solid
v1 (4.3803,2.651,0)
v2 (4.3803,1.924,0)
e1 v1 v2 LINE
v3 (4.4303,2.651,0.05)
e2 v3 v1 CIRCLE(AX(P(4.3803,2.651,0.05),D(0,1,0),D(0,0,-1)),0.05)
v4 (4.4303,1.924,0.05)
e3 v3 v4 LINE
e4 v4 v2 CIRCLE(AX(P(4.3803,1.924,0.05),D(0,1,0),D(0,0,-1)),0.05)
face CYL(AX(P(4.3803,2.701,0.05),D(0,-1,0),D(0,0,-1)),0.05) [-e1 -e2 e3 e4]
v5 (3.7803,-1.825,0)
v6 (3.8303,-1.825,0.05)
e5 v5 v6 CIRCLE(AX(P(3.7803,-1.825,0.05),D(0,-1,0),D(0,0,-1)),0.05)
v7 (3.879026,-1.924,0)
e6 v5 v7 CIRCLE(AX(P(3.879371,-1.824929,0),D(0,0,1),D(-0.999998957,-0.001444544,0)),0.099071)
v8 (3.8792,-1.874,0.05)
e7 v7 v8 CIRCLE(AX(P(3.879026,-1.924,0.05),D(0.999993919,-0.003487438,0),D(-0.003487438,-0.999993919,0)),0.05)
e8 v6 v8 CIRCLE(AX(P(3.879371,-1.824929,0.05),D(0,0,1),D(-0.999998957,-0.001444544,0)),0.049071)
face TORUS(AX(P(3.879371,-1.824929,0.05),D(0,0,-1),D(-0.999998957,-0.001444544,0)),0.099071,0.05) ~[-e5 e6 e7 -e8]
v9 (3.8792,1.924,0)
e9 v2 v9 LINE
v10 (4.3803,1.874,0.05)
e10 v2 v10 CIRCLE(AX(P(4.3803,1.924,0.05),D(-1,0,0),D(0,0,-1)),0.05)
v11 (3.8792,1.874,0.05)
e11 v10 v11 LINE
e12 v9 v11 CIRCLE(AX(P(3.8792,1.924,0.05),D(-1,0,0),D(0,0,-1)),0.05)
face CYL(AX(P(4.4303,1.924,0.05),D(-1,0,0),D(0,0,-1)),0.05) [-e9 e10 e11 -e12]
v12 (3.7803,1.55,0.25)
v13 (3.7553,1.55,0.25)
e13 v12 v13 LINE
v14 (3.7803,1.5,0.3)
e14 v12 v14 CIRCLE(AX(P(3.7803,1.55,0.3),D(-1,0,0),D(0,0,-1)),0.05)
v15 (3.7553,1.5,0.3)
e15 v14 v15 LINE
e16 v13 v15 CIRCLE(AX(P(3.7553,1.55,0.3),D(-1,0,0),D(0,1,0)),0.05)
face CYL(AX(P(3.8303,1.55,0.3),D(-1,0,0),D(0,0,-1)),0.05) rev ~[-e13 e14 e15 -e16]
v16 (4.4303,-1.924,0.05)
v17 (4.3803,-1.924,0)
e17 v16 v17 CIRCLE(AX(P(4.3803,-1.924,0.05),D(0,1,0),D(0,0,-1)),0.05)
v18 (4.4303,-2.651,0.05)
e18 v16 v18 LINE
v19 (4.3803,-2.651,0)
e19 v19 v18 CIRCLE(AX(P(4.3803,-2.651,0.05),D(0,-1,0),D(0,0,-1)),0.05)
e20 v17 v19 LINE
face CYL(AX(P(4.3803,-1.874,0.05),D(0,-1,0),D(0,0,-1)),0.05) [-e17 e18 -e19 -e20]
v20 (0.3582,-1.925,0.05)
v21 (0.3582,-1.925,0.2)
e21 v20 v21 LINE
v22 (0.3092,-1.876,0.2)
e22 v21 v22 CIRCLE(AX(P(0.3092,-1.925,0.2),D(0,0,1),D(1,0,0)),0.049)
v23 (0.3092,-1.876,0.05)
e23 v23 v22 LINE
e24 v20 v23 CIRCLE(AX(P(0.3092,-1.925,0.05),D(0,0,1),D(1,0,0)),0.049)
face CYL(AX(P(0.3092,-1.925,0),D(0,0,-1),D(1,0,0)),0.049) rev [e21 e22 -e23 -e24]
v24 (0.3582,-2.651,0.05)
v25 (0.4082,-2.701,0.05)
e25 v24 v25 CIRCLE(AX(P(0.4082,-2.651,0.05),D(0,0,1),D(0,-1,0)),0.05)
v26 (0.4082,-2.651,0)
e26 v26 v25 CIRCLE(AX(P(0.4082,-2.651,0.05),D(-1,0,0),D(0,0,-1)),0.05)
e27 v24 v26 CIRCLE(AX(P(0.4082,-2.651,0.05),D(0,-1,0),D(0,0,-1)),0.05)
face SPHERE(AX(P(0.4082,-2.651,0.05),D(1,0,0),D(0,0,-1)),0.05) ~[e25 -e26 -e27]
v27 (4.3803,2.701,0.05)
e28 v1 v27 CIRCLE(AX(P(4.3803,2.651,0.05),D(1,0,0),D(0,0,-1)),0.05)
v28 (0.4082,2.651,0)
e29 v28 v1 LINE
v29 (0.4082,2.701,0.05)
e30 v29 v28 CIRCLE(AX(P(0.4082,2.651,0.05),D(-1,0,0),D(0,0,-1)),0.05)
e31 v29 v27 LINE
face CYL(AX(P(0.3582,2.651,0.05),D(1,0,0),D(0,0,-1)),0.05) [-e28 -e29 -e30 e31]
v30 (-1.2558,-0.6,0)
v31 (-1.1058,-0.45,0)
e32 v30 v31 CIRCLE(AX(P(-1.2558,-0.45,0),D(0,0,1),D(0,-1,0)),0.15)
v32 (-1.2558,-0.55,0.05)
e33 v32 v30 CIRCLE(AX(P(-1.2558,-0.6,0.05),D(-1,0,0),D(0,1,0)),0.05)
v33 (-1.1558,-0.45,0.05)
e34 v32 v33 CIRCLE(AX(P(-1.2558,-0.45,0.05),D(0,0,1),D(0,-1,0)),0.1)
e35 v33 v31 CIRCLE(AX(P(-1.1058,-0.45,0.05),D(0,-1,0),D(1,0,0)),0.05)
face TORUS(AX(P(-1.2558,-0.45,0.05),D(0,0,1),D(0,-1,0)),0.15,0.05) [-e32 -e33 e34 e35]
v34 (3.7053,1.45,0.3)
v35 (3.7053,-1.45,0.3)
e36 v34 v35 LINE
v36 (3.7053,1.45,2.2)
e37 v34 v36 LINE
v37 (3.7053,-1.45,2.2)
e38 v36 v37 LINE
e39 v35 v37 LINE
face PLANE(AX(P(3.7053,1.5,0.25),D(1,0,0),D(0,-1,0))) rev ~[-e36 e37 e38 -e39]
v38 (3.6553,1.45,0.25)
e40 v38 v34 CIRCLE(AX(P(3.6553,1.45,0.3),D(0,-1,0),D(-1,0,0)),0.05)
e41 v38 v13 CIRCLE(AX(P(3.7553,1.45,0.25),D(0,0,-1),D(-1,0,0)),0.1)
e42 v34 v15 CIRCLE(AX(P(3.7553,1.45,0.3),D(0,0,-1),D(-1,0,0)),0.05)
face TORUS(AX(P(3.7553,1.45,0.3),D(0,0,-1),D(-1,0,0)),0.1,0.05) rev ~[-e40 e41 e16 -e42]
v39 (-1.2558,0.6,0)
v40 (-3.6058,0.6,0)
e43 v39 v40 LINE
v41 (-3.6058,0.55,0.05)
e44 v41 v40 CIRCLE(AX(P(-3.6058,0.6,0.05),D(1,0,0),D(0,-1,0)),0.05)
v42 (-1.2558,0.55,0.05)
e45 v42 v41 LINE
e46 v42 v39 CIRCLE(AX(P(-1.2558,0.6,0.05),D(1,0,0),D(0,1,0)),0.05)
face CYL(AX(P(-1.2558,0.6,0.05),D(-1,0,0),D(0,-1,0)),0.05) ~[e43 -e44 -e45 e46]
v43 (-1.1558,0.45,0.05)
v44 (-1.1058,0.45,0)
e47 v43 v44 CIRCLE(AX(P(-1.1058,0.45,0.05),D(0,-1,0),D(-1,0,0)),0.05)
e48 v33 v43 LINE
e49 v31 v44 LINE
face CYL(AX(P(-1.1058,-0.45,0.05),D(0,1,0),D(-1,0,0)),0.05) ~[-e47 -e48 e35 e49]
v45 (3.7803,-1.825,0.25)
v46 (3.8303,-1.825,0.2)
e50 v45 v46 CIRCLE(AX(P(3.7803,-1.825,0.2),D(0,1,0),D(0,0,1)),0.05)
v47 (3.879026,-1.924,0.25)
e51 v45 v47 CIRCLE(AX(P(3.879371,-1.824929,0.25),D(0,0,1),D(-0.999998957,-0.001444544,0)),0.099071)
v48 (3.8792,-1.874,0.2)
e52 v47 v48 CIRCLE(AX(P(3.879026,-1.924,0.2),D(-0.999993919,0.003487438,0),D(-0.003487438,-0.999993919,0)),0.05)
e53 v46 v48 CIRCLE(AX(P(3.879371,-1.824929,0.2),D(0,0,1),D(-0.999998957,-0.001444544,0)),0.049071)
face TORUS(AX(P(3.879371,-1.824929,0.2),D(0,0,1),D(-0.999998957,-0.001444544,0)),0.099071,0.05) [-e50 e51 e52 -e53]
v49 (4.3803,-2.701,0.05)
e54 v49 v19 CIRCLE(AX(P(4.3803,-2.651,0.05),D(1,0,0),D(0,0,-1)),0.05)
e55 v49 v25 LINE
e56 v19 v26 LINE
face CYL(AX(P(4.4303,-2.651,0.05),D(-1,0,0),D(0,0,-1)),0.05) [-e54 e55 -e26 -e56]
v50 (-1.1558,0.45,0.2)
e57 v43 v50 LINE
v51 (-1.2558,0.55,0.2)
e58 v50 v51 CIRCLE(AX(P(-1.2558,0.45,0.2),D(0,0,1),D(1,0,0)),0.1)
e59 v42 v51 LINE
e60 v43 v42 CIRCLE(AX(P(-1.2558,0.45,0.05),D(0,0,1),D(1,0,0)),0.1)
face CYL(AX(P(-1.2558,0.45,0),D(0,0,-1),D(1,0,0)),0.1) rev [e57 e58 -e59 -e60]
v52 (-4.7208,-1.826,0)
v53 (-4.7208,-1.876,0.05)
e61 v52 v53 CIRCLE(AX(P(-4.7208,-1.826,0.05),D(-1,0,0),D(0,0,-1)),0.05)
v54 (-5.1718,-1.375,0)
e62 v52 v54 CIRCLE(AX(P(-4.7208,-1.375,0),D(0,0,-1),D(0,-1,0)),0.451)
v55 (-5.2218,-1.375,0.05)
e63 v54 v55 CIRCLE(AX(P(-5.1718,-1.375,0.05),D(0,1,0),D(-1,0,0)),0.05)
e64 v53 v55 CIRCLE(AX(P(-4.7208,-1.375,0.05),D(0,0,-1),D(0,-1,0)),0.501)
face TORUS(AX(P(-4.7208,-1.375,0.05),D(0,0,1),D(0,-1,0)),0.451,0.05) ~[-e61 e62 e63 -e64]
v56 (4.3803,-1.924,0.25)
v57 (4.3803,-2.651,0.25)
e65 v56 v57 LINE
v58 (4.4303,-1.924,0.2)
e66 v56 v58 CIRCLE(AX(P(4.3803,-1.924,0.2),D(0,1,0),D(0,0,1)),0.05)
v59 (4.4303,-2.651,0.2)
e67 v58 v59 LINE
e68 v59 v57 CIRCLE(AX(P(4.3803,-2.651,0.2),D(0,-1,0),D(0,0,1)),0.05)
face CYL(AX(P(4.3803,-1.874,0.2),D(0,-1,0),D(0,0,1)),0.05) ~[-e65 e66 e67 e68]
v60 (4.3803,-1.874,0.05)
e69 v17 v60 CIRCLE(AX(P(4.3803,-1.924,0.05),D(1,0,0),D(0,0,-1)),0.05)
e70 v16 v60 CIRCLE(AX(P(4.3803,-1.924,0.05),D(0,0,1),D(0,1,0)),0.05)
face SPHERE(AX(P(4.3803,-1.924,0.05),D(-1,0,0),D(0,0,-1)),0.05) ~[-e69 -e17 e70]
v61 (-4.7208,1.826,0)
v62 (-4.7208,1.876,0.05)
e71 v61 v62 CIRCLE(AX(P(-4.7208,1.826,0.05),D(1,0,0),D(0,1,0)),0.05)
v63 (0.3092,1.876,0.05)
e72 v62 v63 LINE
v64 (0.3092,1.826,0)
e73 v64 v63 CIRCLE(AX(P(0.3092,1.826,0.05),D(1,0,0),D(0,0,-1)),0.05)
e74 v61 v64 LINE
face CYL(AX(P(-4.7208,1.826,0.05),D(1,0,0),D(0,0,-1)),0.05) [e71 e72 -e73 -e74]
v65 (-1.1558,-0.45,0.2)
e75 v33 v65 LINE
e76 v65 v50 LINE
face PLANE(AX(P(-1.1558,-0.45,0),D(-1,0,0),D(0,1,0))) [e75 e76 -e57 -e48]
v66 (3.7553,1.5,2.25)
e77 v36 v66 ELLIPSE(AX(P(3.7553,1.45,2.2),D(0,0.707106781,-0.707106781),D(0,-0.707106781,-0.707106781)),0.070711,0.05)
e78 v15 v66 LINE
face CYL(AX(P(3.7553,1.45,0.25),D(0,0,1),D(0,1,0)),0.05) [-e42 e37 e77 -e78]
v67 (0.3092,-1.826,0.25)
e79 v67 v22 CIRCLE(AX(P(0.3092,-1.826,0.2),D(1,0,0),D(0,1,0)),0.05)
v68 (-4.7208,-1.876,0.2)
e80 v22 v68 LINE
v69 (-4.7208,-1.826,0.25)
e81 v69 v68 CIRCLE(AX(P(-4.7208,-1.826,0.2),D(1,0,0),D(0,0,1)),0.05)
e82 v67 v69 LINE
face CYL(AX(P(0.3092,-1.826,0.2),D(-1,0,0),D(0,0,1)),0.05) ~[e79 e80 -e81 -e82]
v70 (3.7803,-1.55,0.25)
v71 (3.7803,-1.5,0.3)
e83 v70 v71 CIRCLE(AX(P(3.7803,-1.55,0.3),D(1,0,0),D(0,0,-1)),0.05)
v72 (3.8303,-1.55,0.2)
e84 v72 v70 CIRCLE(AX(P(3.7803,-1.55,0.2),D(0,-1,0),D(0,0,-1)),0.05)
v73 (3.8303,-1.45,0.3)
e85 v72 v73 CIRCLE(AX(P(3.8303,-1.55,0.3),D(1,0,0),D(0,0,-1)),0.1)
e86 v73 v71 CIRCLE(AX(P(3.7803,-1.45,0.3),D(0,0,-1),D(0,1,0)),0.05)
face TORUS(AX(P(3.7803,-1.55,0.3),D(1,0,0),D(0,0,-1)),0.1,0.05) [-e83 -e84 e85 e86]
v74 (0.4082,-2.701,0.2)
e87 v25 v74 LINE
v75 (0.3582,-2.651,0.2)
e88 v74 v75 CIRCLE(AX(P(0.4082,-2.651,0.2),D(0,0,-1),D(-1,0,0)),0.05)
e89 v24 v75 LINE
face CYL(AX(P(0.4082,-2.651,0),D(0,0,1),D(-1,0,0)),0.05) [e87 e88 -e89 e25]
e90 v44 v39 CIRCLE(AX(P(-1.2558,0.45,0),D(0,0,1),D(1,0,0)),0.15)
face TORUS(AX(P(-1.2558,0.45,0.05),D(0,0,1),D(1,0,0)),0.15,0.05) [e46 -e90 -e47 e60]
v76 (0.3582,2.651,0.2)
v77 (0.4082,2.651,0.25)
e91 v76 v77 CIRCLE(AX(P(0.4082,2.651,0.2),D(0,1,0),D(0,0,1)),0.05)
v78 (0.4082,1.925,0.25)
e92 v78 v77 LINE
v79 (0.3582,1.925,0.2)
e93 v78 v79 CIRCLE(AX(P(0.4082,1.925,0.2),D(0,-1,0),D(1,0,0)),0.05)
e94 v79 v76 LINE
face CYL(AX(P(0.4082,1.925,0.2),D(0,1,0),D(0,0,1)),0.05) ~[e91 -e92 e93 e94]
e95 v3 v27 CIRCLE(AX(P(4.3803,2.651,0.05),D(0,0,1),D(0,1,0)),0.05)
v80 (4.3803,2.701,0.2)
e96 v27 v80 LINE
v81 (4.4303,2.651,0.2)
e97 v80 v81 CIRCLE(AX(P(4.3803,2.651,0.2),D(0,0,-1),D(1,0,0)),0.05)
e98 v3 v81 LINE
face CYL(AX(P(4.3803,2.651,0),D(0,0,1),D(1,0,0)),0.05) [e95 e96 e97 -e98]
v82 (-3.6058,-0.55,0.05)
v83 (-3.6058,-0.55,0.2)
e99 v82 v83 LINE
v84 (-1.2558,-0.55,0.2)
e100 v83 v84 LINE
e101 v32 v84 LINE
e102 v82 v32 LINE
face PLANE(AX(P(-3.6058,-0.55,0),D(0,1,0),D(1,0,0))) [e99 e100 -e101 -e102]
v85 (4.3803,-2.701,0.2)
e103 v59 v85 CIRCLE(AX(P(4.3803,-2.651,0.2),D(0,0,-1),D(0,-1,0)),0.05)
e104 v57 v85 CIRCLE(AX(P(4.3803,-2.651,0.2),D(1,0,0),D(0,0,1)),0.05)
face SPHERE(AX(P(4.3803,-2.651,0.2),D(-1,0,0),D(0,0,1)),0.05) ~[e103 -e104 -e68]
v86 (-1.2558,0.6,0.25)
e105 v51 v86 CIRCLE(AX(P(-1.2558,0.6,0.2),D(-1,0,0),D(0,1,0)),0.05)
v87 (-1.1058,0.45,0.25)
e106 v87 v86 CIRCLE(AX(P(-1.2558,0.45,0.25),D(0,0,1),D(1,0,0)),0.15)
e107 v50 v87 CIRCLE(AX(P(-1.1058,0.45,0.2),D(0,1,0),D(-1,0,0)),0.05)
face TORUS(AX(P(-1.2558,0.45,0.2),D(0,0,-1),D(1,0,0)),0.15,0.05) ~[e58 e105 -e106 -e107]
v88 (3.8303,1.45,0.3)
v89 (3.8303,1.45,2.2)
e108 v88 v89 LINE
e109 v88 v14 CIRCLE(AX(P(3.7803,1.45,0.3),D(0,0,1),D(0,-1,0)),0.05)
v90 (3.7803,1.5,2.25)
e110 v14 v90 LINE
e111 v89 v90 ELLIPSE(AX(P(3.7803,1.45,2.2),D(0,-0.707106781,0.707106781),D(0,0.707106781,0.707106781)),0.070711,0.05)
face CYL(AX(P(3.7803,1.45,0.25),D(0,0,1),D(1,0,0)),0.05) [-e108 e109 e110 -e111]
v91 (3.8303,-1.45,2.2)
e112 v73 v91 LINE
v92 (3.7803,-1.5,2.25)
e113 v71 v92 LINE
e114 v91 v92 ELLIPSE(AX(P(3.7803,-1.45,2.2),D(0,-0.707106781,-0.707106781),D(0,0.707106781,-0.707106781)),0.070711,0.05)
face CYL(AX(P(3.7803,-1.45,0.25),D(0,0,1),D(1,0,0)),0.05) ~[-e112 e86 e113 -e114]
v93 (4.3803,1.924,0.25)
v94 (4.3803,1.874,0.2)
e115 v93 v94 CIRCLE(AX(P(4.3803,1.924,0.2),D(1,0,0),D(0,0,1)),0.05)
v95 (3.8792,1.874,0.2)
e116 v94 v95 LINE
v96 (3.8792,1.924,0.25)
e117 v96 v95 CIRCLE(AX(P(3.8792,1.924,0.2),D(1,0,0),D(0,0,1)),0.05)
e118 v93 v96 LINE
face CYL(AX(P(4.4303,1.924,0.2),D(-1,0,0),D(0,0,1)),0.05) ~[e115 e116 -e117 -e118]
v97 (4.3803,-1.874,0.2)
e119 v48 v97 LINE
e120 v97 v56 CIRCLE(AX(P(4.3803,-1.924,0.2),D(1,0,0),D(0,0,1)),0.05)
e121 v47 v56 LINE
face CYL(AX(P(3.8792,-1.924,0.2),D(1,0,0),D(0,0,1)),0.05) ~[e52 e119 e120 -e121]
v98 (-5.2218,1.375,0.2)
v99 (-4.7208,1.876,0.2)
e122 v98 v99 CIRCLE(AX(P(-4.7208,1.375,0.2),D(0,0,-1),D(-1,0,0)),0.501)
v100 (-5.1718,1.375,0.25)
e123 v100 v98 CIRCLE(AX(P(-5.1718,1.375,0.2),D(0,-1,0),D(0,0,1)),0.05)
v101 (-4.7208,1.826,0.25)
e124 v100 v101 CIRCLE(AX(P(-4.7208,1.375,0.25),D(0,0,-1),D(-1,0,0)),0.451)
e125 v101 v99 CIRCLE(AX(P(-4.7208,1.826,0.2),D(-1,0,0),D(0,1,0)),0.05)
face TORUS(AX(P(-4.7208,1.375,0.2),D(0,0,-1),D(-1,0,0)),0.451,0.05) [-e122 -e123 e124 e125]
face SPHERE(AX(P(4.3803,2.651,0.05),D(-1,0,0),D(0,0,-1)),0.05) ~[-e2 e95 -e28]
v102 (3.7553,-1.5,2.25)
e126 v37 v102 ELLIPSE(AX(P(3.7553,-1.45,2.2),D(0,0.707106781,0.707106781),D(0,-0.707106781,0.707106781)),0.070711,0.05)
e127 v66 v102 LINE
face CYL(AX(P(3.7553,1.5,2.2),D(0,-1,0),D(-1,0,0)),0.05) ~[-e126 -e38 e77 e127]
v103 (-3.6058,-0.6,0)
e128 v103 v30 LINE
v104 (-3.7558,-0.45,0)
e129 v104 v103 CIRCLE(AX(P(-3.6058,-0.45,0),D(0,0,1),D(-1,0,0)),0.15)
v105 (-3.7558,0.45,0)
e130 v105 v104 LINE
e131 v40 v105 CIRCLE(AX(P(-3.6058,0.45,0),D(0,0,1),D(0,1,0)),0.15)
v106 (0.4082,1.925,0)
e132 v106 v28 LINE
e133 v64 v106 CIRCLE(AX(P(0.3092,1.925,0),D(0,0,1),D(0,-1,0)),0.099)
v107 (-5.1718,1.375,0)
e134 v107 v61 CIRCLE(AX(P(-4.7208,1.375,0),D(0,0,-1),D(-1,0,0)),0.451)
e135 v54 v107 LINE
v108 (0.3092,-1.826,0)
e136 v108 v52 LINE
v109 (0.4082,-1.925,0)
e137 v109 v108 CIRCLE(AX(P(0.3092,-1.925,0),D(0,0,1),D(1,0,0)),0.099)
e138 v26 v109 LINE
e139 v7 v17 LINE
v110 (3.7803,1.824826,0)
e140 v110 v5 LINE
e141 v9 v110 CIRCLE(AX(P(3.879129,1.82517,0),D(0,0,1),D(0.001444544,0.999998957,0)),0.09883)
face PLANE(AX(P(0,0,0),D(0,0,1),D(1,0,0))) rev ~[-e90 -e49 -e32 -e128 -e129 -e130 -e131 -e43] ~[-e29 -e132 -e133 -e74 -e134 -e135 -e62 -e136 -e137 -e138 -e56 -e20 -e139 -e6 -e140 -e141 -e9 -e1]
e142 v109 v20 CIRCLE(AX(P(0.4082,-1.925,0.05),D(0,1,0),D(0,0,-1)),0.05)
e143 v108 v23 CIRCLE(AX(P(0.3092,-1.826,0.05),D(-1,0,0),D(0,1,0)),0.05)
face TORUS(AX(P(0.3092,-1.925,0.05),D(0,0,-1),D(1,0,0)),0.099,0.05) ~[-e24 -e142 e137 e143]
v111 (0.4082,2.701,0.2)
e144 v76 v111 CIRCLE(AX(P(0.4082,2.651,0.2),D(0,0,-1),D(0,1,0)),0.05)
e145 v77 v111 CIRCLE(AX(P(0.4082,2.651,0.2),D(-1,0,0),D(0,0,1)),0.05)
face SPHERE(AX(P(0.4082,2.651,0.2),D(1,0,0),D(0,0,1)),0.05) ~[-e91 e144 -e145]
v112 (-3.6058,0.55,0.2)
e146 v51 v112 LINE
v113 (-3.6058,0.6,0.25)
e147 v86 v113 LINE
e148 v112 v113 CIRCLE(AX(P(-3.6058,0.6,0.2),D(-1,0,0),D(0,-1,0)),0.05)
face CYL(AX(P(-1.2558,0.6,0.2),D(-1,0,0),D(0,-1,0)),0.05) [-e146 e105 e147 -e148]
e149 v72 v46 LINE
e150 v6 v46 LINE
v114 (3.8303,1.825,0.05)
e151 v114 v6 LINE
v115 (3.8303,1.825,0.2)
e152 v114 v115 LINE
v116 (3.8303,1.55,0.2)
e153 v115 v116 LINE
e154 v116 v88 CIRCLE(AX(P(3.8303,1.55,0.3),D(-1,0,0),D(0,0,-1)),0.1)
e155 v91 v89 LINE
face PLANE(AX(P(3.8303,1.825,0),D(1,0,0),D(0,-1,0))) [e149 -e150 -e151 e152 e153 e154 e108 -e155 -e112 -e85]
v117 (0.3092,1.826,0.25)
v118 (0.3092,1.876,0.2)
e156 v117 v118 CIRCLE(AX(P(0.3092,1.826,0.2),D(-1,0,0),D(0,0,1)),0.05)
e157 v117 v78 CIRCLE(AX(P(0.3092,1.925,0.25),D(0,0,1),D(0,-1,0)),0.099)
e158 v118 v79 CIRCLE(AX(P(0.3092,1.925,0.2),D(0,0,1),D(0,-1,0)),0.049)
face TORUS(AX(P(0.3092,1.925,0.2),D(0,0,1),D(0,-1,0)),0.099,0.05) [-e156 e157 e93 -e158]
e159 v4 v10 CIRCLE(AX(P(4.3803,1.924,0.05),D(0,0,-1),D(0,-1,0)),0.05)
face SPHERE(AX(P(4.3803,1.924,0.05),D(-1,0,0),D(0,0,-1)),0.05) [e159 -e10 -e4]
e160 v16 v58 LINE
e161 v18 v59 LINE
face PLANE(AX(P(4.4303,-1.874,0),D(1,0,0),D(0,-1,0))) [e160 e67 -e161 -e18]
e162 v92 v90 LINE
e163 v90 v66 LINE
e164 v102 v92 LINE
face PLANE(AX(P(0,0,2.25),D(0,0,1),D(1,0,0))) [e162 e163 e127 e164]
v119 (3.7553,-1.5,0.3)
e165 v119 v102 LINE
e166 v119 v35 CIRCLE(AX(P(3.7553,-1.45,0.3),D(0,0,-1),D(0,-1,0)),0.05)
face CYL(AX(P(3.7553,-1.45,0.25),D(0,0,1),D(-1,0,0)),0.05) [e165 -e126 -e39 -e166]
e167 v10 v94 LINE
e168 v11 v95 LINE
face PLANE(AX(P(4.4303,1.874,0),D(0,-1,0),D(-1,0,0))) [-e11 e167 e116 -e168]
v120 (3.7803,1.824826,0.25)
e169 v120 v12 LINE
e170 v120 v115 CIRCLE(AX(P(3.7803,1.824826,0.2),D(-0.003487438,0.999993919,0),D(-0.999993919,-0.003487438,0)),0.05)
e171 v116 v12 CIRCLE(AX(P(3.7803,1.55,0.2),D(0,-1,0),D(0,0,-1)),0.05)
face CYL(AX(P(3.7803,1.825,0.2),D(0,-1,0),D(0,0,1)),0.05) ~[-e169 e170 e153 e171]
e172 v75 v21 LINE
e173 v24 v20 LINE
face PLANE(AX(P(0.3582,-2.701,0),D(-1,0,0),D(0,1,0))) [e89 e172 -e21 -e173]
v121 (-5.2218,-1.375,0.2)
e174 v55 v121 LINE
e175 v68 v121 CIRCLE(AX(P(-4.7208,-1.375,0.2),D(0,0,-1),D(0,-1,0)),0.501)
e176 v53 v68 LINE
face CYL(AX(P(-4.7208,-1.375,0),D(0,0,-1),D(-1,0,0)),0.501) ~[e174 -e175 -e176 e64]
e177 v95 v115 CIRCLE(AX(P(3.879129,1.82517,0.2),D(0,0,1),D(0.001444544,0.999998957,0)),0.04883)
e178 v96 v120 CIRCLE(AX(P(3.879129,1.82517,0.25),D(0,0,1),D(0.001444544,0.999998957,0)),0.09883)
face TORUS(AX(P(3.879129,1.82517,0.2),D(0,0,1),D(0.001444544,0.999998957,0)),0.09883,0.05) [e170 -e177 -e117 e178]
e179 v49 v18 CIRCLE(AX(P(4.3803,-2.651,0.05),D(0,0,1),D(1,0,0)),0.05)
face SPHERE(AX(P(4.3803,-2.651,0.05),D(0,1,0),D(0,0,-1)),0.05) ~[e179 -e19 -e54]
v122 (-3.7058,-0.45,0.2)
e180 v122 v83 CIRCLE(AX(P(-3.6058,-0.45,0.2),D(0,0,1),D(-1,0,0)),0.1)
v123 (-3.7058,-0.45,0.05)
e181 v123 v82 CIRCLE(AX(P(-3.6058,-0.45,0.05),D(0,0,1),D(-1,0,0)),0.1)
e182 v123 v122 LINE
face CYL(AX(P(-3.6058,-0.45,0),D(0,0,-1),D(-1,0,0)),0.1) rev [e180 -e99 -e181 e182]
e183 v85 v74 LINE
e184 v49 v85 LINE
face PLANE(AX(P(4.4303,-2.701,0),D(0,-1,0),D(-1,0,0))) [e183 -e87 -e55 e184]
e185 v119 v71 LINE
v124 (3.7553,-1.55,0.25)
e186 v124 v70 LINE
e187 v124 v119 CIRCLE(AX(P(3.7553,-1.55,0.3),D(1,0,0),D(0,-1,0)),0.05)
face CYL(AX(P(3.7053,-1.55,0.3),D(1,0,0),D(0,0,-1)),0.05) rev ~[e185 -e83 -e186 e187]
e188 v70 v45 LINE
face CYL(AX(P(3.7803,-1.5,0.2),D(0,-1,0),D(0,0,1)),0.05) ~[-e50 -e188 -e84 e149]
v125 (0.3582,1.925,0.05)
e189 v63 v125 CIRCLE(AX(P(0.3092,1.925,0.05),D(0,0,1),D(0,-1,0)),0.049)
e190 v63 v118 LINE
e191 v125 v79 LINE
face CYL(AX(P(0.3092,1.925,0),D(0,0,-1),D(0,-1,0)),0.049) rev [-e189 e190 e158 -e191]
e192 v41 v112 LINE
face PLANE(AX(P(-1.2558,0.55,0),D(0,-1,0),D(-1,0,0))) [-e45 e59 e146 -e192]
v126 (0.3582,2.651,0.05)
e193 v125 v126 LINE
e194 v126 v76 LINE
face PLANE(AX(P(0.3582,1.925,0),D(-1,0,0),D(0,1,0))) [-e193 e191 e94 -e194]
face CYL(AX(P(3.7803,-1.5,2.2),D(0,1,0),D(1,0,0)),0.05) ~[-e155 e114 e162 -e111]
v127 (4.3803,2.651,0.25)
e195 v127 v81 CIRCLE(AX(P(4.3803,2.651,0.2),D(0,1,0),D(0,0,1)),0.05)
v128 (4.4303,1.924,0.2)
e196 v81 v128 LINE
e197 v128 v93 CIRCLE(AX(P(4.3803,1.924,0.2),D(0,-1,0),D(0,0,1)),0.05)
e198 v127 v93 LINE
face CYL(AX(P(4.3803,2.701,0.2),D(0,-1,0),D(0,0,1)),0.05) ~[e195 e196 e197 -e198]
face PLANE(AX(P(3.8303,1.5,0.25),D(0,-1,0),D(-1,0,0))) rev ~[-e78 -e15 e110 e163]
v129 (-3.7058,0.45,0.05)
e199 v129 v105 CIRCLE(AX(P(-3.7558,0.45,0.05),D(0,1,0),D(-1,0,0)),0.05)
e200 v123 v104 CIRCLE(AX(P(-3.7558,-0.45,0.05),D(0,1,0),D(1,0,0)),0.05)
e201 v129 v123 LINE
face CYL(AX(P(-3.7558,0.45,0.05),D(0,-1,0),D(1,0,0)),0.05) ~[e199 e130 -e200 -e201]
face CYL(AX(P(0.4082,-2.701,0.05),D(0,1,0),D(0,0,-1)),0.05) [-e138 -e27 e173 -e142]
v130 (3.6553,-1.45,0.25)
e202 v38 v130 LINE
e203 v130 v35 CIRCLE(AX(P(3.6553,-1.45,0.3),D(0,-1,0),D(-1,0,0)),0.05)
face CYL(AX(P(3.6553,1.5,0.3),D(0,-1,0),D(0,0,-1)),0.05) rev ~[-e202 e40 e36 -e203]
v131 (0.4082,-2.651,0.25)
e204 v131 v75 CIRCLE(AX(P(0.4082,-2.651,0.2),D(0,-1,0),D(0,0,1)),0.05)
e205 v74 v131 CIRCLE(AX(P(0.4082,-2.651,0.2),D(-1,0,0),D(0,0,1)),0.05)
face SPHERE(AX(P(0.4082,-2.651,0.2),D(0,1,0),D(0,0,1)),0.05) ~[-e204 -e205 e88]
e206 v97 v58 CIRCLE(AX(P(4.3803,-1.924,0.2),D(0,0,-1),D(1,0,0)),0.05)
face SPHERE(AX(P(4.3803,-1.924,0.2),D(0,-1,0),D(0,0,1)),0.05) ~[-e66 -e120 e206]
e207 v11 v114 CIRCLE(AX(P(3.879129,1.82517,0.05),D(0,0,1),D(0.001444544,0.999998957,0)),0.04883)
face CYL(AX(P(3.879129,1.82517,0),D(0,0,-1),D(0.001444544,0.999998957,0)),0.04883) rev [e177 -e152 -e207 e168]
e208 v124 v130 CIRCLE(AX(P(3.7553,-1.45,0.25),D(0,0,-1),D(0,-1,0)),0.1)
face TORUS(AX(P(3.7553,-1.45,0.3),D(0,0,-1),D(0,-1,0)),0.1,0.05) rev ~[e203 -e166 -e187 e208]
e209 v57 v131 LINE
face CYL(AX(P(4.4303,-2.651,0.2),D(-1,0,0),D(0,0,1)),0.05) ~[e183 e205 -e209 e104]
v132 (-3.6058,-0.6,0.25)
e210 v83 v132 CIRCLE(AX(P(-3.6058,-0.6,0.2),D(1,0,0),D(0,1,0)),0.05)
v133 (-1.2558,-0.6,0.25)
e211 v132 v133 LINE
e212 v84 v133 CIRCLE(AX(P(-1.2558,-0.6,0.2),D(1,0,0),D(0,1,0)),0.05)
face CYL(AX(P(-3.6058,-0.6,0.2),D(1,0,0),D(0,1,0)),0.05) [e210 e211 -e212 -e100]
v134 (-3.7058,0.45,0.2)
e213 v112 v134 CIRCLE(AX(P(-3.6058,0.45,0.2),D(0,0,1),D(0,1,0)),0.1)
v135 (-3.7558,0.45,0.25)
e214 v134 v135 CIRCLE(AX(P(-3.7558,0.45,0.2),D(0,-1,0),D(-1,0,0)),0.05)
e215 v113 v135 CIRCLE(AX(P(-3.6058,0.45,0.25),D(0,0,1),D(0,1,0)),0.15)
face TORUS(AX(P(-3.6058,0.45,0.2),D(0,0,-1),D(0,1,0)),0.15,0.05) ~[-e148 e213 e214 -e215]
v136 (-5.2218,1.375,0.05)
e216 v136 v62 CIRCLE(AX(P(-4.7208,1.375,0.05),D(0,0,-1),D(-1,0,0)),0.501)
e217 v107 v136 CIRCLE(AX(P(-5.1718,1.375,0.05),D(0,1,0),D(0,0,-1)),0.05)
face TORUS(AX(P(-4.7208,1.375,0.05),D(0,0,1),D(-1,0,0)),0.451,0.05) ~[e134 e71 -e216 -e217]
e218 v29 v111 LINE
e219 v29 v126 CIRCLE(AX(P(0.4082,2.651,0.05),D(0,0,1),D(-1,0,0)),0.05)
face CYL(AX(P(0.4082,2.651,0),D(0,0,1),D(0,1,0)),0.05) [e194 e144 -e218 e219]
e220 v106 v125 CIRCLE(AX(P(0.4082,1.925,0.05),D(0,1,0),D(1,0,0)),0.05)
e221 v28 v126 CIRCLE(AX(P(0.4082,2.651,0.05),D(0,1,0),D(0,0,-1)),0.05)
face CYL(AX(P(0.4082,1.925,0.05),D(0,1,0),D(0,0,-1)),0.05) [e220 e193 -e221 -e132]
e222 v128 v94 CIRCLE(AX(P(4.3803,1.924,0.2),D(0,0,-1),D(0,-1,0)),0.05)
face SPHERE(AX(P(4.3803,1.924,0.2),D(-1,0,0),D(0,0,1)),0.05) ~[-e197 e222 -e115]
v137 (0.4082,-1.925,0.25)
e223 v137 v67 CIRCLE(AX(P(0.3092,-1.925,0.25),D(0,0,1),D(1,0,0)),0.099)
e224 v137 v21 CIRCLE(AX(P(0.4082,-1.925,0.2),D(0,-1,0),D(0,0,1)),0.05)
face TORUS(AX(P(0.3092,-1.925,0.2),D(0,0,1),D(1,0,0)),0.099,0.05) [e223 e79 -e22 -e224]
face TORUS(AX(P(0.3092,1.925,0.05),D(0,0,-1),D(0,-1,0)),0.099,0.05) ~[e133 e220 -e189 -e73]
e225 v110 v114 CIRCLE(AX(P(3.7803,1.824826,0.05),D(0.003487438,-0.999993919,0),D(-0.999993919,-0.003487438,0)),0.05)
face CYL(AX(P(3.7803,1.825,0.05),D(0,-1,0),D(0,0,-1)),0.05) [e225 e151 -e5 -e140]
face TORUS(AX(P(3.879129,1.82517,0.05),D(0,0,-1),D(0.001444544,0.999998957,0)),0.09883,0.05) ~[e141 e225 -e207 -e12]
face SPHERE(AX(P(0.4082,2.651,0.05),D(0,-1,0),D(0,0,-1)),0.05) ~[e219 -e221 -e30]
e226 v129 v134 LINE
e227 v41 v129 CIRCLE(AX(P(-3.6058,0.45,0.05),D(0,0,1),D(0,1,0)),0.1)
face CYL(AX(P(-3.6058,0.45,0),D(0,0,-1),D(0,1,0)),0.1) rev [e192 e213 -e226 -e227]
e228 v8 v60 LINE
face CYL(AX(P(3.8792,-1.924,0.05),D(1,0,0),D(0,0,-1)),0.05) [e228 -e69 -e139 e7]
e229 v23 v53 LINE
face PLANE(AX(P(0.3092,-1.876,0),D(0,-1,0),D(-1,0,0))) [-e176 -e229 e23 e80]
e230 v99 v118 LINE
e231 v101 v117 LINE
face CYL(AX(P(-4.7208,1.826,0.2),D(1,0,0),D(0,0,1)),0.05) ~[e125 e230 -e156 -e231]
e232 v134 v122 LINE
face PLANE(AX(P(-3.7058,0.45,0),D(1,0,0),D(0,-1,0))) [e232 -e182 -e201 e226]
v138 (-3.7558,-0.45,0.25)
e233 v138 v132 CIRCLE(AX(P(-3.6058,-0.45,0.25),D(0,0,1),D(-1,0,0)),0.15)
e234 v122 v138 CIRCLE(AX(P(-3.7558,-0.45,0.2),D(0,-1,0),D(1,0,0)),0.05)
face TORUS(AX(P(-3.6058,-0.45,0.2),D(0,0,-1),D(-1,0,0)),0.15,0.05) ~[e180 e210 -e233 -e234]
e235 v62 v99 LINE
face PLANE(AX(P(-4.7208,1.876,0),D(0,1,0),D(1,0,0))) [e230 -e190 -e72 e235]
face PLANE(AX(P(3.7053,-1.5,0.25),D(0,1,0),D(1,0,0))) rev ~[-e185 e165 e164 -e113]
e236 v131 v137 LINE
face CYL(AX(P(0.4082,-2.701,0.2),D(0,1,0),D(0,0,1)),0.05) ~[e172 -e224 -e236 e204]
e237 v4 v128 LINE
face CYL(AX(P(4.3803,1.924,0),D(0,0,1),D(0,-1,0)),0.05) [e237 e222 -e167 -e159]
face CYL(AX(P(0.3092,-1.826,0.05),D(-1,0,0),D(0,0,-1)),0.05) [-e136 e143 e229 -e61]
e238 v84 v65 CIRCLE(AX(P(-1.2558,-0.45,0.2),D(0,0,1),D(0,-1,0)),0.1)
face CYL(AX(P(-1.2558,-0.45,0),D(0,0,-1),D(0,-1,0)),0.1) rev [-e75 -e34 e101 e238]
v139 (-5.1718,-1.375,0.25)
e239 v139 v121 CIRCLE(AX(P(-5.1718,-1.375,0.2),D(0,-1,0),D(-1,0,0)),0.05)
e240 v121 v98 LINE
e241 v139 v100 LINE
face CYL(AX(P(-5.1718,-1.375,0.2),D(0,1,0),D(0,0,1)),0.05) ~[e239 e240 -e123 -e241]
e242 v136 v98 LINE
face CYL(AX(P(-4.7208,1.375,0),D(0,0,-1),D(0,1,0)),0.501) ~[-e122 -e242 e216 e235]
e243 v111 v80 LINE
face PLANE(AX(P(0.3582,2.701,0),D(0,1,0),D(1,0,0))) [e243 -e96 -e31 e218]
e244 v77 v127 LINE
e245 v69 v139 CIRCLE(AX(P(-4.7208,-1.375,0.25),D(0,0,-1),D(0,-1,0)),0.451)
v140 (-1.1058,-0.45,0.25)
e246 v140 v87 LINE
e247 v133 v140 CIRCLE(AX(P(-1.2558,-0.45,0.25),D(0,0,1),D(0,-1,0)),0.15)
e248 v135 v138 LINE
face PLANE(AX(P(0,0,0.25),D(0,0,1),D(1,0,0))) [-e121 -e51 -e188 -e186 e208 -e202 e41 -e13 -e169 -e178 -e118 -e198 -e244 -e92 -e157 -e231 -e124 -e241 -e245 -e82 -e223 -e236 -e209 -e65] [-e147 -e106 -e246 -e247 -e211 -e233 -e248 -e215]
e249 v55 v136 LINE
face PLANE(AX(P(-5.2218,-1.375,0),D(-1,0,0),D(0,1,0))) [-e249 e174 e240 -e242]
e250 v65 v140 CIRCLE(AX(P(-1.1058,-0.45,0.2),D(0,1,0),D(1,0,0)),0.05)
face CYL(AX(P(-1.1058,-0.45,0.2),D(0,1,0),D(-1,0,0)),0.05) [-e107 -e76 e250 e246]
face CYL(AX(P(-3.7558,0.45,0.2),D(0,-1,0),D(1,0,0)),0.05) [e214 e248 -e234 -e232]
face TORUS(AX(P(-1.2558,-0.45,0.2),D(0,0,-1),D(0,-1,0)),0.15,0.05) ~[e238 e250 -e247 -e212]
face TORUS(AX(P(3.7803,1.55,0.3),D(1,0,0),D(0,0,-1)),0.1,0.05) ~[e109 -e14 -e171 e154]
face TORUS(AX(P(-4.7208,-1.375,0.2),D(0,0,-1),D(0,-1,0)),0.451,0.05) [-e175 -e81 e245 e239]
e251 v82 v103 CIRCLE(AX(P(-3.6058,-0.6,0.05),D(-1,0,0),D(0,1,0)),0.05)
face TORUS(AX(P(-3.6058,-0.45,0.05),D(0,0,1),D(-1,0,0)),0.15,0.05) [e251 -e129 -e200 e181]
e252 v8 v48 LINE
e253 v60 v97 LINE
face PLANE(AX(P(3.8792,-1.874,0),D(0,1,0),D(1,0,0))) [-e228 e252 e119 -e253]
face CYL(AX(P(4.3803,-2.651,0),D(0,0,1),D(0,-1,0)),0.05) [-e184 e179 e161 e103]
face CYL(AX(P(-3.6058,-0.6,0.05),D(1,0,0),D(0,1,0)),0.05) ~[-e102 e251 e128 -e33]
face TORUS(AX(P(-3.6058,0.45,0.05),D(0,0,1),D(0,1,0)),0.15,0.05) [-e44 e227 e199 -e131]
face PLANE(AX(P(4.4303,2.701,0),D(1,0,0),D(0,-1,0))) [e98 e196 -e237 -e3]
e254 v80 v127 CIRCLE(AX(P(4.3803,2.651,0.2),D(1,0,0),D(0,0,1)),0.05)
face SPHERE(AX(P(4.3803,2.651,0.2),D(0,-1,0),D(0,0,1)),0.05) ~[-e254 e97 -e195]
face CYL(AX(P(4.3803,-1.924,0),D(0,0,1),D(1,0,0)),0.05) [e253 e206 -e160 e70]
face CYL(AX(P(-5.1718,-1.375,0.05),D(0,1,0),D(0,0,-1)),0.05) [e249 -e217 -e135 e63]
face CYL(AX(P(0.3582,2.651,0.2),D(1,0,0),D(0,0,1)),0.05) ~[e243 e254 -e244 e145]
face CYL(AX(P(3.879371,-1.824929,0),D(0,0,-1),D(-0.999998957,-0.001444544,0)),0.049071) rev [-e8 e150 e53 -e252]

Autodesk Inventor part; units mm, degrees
ref_plane "YZ Plane" through (0, 0, 0) normal (1, 0, 0) x (0, 1, 0)
ref_plane "XZ Plane" through (0, 0, 0) normal (0, 1, 0) x (-1, 0, 0)
ref_plane "XY Plane" through (0, 0, 0) normal (0, 0, 1) x (1, 0, 0)
sketch "Sketch1" plane through (0, 0, 0) normal (0, 0, 1) x (1, 0, 0)
  arc A0 (0.3092, 1.825) -> (0.4092, 1.925) centre (0.3092, 1.925) ccw projected
  line L0 (-4.7208, 1.825) -> (0.3092, 1.825) projected
  arc A1 (-4.7208, 1.825) -> (-5.1708, 1.375) centre (-4.7208, 1.375) ccw projected
  line L1 (-5.1708, -1.375) -> (-5.1708, 1.375) projected
  arc A2 (-5.1708, -1.375) -> (-4.7208, -1.825) centre (-4.7208, -1.375) ccw projected
  line L2 (0.3092, -1.825) -> (-4.7208, -1.825) projected
  arc A3 (0.4092, -1.925) -> (0.3092, -1.825) centre (0.3092, -1.925) ccw projected
  line L3 (0.4092, -2.65) -> (0.4092, -1.925) projected
  line L4 (4.3792, -2.65) -> (0.4092, -2.65) projected
  line L5 (4.3792, -1.925) -> (4.3792, -2.65) projected
  line L6 (3.8792, -1.925) -> (4.3792, -1.925) projected
  arc A4 (3.7792, -1.825) -> (3.8792, -1.925) centre (3.8792, -1.825) ccw projected
  line L7 (3.7792, 1.825) -> (3.7792, -1.825) projected
  arc A5 (3.8792, 1.925) -> (3.7792, 1.825) centre (3.8792, 1.825) ccw projected
  line L8 (4.3792, 1.925) -> (3.8792, 1.925) projected
  line L9 (4.3792, 2.65) -> (4.3792, 1.925) projected
  line L10 (0.4092, 2.65) -> (4.3792, 2.65) projected
  line L11 (0.4092, 1.925) -> (0.4092, 2.65) projected
  arc A6 (-1.2558, -0.55) -> (-1.1558, -0.45) centre (-1.2558, -0.45) ccw projected
  line L12 (-3.6058, -0.55) -> (-1.2558, -0.55) projected
  arc A7 (-3.7058, -0.45) -> (-3.6058, -0.55) centre (-3.6058, -0.45) ccw projected
  line L13 (-3.7058, 0.45) -> (-3.7058, -0.45) projected
  arc A8 (-3.6058, 0.55) -> (-3.7058, 0.45) centre (-3.6058, 0.45) ccw projected
  line L14 (-1.2558, 0.55) -> (-3.6058, 0.55) projected
  arc A9 (-1.1558, 0.45) -> (-1.2558, 0.55) centre (-1.2558, 0.45) ccw projected
  line L15 (-1.1558, -0.45) -> (-1.1558, 0.45) projected
  arc A10 (3.8303, -1.825) -> (3.8792, -1.874) centre (3.8792, -1.825) ccw
  line L16 (3.8792, -1.874) -> (4.4303, -1.874)
  line L17 (4.4303, -1.874) -> (4.4303, -2.701)
  line L18 (4.4303, -2.701) -> (0.3582, -2.701)
  line L19 (0.3582, -2.701) -> (0.3582, -1.925)
  arc A11 (0.3582, -1.925) -> (0.3092, -1.876) centre (0.3092, -1.925) ccw
  line L20 (0.3092, -1.876) -> (-4.7208, -1.876)
  arc A12 (-5.2218, -1.375) -> (-4.7208, -1.876) centre (-4.7208, -1.375) ccw
  line L21 (-5.2218, -1.375) -> (-5.2218, 1.375)
  arc A13 (-4.7208, 1.876) -> (-5.2218, 1.375) centre (-4.7208, 1.375) ccw
  line L22 (-4.7208, 1.876) -> (0.3092, 1.876)
  arc A14 (0.3092, 1.876) -> (0.3582, 1.925) centre (0.3092, 1.925) ccw
  line L23 (0.3582, 1.925) -> (0.3582, 2.701)
  line L24 (0.3582, 2.701) -> (4.4303, 2.701)
  line L25 (4.4303, 2.701) -> (4.4303, 1.874)
  line L26 (4.4303, 1.874) -> (3.8792, 1.874)
  arc A15 (3.8792, 1.874) -> (3.8303, 1.825) centre (3.8792, 1.825) ccw
  line L27 (3.8303, 1.825) -> (3.8303, -1.825)
  point P0 (0, 0)
extrude "Extrusion1" add sketch "Sketch1" along normal blind 0.25 contours A0 L11 L10 L9 L8 A5 L7 A4 L6 L5 L4 L3 A3 L2 A2 L1 A1 L0 | A10 L16 L17 L18 L19 A11 L20 A12 L21 A13 L22 A14 L23 L24 L25 L26 A15 L27
sketch "Sketch2" plane through (0, 0, 0.25) normal (0, 0, 1) x (1, 0, 0)
  line L0 (3.8303, -1.825) -> (3.8303, 1.825) construction
  line L1 (3.8303, 1.5) -> (3.7053, 1.5)
  line L2 (3.7053, 1.5) -> (3.7053, -1.5)
  line L3 (3.7053, -1.5) -> (3.8303, -1.5)
  line L4 (3.8303, -1.5) -> (3.8303, 1.5)
  line L5 (3.8303, 1.5) -> (3.7053, -1.5) construction
  line L6 (3.7053, 1.5) -> (3.8303, -1.5) construction
  point P0 (0, 0)
  point P1 (3.7678, 0)
  dimension "d2" = 0.125
  dimension "d3" = 3
extrude "Extrusion2" add sketch "Sketch2" along normal blind 2
fillet "Fillet1" radius 0.05 68 edges at (3.8446, -1.8596, 0) (4.1548, -1.874, 0) (4.4303, -2.2875, 0) (2.3942, -2.701, 0) (0.3582, -2.313, 0) (0.3439, -1.8904, 0) (-2.2058, -1.876, 0) (-5.075, -1.7293, 0) (-5.2218, 0, 0) (-5.075, 1.7293, 0) (-2.2058, 1.876, 0) (0.3439, 1.8904, 0) (0.3582, 2.313, 0) (2.3942, 2.701, 0) (4.4303, 2.2875, 0) (4.1548, 1.874, 0) (3.8446, 1.8596, 0) (3.8303, 0, 0) (3.7678, -1.5, 0.25) (3.7053, 0, 0.25) (3.7678, 1.5, 0.25) (3.8303, 1.6625, 0.25) (3.8446, 1.8596, 0.25) (4.1548, 1.874, 0.25) (4.4303, 2.2875, 0.25) (2.3942, 2.701, 0.25) (0.3582, 2.313, 0.25) (0.3439, 1.8904, 0.25) (-2.2058, 1.876, 0.25) (-5.075, 1.7293, 0.25) (-5.2218, 0, 0.25) (-5.075, -1.7293, 0.25) (-2.2058, -1.876, 0.25) (0.3439, -1.8904, 0.25) (0.3582, -2.313, 0.25) (2.3942, -2.701, 0.25) (4.4303, -2.2875, 0.25) (4.1548, -1.874, 0.25) (3.8446, -1.8596, 0.25) (3.8303, -1.6625, 0.25) (3.7053, -1.5, 1.25) (3.7053, 0, 2.25) (3.7053, 1.5, 1.25) (3.8303, 1.5, 1.25) (3.8303, 0, 2.25) (3.8303, -1.5, 1.25) (4.4303, -2.701, 0.125) (0.3582, -2.701, 0.125) (4.4303, -1.874, 0.125) (4.4303, 2.701, 0.125) (4.4303, 1.874, 0.125) (0.3582, 2.701, 0.125) (-2.4308, -0.55, 0) (-2.4308, -0.55, 0.25) (-1.185, -0.5207, 0) (-1.1558, 0, 0) (-1.185, 0.5207, 0) (-2.4308, 0.55, 0) (-3.6765, 0.5207, 0) (-3.7058, 0, 0) (-3.6765, -0.5207, 0) (-3.6765, -0.5207, 0.25) (-3.7058, 0, 0.25) (-3.6765, 0.5207, 0.25) (-2.4308, 0.55, 0.25) (-1.185, 0.5207, 0.25) (-1.1558, 0, 0.25) (-1.185, -0.5207, 0.25)
properties part number "metal uc2"
